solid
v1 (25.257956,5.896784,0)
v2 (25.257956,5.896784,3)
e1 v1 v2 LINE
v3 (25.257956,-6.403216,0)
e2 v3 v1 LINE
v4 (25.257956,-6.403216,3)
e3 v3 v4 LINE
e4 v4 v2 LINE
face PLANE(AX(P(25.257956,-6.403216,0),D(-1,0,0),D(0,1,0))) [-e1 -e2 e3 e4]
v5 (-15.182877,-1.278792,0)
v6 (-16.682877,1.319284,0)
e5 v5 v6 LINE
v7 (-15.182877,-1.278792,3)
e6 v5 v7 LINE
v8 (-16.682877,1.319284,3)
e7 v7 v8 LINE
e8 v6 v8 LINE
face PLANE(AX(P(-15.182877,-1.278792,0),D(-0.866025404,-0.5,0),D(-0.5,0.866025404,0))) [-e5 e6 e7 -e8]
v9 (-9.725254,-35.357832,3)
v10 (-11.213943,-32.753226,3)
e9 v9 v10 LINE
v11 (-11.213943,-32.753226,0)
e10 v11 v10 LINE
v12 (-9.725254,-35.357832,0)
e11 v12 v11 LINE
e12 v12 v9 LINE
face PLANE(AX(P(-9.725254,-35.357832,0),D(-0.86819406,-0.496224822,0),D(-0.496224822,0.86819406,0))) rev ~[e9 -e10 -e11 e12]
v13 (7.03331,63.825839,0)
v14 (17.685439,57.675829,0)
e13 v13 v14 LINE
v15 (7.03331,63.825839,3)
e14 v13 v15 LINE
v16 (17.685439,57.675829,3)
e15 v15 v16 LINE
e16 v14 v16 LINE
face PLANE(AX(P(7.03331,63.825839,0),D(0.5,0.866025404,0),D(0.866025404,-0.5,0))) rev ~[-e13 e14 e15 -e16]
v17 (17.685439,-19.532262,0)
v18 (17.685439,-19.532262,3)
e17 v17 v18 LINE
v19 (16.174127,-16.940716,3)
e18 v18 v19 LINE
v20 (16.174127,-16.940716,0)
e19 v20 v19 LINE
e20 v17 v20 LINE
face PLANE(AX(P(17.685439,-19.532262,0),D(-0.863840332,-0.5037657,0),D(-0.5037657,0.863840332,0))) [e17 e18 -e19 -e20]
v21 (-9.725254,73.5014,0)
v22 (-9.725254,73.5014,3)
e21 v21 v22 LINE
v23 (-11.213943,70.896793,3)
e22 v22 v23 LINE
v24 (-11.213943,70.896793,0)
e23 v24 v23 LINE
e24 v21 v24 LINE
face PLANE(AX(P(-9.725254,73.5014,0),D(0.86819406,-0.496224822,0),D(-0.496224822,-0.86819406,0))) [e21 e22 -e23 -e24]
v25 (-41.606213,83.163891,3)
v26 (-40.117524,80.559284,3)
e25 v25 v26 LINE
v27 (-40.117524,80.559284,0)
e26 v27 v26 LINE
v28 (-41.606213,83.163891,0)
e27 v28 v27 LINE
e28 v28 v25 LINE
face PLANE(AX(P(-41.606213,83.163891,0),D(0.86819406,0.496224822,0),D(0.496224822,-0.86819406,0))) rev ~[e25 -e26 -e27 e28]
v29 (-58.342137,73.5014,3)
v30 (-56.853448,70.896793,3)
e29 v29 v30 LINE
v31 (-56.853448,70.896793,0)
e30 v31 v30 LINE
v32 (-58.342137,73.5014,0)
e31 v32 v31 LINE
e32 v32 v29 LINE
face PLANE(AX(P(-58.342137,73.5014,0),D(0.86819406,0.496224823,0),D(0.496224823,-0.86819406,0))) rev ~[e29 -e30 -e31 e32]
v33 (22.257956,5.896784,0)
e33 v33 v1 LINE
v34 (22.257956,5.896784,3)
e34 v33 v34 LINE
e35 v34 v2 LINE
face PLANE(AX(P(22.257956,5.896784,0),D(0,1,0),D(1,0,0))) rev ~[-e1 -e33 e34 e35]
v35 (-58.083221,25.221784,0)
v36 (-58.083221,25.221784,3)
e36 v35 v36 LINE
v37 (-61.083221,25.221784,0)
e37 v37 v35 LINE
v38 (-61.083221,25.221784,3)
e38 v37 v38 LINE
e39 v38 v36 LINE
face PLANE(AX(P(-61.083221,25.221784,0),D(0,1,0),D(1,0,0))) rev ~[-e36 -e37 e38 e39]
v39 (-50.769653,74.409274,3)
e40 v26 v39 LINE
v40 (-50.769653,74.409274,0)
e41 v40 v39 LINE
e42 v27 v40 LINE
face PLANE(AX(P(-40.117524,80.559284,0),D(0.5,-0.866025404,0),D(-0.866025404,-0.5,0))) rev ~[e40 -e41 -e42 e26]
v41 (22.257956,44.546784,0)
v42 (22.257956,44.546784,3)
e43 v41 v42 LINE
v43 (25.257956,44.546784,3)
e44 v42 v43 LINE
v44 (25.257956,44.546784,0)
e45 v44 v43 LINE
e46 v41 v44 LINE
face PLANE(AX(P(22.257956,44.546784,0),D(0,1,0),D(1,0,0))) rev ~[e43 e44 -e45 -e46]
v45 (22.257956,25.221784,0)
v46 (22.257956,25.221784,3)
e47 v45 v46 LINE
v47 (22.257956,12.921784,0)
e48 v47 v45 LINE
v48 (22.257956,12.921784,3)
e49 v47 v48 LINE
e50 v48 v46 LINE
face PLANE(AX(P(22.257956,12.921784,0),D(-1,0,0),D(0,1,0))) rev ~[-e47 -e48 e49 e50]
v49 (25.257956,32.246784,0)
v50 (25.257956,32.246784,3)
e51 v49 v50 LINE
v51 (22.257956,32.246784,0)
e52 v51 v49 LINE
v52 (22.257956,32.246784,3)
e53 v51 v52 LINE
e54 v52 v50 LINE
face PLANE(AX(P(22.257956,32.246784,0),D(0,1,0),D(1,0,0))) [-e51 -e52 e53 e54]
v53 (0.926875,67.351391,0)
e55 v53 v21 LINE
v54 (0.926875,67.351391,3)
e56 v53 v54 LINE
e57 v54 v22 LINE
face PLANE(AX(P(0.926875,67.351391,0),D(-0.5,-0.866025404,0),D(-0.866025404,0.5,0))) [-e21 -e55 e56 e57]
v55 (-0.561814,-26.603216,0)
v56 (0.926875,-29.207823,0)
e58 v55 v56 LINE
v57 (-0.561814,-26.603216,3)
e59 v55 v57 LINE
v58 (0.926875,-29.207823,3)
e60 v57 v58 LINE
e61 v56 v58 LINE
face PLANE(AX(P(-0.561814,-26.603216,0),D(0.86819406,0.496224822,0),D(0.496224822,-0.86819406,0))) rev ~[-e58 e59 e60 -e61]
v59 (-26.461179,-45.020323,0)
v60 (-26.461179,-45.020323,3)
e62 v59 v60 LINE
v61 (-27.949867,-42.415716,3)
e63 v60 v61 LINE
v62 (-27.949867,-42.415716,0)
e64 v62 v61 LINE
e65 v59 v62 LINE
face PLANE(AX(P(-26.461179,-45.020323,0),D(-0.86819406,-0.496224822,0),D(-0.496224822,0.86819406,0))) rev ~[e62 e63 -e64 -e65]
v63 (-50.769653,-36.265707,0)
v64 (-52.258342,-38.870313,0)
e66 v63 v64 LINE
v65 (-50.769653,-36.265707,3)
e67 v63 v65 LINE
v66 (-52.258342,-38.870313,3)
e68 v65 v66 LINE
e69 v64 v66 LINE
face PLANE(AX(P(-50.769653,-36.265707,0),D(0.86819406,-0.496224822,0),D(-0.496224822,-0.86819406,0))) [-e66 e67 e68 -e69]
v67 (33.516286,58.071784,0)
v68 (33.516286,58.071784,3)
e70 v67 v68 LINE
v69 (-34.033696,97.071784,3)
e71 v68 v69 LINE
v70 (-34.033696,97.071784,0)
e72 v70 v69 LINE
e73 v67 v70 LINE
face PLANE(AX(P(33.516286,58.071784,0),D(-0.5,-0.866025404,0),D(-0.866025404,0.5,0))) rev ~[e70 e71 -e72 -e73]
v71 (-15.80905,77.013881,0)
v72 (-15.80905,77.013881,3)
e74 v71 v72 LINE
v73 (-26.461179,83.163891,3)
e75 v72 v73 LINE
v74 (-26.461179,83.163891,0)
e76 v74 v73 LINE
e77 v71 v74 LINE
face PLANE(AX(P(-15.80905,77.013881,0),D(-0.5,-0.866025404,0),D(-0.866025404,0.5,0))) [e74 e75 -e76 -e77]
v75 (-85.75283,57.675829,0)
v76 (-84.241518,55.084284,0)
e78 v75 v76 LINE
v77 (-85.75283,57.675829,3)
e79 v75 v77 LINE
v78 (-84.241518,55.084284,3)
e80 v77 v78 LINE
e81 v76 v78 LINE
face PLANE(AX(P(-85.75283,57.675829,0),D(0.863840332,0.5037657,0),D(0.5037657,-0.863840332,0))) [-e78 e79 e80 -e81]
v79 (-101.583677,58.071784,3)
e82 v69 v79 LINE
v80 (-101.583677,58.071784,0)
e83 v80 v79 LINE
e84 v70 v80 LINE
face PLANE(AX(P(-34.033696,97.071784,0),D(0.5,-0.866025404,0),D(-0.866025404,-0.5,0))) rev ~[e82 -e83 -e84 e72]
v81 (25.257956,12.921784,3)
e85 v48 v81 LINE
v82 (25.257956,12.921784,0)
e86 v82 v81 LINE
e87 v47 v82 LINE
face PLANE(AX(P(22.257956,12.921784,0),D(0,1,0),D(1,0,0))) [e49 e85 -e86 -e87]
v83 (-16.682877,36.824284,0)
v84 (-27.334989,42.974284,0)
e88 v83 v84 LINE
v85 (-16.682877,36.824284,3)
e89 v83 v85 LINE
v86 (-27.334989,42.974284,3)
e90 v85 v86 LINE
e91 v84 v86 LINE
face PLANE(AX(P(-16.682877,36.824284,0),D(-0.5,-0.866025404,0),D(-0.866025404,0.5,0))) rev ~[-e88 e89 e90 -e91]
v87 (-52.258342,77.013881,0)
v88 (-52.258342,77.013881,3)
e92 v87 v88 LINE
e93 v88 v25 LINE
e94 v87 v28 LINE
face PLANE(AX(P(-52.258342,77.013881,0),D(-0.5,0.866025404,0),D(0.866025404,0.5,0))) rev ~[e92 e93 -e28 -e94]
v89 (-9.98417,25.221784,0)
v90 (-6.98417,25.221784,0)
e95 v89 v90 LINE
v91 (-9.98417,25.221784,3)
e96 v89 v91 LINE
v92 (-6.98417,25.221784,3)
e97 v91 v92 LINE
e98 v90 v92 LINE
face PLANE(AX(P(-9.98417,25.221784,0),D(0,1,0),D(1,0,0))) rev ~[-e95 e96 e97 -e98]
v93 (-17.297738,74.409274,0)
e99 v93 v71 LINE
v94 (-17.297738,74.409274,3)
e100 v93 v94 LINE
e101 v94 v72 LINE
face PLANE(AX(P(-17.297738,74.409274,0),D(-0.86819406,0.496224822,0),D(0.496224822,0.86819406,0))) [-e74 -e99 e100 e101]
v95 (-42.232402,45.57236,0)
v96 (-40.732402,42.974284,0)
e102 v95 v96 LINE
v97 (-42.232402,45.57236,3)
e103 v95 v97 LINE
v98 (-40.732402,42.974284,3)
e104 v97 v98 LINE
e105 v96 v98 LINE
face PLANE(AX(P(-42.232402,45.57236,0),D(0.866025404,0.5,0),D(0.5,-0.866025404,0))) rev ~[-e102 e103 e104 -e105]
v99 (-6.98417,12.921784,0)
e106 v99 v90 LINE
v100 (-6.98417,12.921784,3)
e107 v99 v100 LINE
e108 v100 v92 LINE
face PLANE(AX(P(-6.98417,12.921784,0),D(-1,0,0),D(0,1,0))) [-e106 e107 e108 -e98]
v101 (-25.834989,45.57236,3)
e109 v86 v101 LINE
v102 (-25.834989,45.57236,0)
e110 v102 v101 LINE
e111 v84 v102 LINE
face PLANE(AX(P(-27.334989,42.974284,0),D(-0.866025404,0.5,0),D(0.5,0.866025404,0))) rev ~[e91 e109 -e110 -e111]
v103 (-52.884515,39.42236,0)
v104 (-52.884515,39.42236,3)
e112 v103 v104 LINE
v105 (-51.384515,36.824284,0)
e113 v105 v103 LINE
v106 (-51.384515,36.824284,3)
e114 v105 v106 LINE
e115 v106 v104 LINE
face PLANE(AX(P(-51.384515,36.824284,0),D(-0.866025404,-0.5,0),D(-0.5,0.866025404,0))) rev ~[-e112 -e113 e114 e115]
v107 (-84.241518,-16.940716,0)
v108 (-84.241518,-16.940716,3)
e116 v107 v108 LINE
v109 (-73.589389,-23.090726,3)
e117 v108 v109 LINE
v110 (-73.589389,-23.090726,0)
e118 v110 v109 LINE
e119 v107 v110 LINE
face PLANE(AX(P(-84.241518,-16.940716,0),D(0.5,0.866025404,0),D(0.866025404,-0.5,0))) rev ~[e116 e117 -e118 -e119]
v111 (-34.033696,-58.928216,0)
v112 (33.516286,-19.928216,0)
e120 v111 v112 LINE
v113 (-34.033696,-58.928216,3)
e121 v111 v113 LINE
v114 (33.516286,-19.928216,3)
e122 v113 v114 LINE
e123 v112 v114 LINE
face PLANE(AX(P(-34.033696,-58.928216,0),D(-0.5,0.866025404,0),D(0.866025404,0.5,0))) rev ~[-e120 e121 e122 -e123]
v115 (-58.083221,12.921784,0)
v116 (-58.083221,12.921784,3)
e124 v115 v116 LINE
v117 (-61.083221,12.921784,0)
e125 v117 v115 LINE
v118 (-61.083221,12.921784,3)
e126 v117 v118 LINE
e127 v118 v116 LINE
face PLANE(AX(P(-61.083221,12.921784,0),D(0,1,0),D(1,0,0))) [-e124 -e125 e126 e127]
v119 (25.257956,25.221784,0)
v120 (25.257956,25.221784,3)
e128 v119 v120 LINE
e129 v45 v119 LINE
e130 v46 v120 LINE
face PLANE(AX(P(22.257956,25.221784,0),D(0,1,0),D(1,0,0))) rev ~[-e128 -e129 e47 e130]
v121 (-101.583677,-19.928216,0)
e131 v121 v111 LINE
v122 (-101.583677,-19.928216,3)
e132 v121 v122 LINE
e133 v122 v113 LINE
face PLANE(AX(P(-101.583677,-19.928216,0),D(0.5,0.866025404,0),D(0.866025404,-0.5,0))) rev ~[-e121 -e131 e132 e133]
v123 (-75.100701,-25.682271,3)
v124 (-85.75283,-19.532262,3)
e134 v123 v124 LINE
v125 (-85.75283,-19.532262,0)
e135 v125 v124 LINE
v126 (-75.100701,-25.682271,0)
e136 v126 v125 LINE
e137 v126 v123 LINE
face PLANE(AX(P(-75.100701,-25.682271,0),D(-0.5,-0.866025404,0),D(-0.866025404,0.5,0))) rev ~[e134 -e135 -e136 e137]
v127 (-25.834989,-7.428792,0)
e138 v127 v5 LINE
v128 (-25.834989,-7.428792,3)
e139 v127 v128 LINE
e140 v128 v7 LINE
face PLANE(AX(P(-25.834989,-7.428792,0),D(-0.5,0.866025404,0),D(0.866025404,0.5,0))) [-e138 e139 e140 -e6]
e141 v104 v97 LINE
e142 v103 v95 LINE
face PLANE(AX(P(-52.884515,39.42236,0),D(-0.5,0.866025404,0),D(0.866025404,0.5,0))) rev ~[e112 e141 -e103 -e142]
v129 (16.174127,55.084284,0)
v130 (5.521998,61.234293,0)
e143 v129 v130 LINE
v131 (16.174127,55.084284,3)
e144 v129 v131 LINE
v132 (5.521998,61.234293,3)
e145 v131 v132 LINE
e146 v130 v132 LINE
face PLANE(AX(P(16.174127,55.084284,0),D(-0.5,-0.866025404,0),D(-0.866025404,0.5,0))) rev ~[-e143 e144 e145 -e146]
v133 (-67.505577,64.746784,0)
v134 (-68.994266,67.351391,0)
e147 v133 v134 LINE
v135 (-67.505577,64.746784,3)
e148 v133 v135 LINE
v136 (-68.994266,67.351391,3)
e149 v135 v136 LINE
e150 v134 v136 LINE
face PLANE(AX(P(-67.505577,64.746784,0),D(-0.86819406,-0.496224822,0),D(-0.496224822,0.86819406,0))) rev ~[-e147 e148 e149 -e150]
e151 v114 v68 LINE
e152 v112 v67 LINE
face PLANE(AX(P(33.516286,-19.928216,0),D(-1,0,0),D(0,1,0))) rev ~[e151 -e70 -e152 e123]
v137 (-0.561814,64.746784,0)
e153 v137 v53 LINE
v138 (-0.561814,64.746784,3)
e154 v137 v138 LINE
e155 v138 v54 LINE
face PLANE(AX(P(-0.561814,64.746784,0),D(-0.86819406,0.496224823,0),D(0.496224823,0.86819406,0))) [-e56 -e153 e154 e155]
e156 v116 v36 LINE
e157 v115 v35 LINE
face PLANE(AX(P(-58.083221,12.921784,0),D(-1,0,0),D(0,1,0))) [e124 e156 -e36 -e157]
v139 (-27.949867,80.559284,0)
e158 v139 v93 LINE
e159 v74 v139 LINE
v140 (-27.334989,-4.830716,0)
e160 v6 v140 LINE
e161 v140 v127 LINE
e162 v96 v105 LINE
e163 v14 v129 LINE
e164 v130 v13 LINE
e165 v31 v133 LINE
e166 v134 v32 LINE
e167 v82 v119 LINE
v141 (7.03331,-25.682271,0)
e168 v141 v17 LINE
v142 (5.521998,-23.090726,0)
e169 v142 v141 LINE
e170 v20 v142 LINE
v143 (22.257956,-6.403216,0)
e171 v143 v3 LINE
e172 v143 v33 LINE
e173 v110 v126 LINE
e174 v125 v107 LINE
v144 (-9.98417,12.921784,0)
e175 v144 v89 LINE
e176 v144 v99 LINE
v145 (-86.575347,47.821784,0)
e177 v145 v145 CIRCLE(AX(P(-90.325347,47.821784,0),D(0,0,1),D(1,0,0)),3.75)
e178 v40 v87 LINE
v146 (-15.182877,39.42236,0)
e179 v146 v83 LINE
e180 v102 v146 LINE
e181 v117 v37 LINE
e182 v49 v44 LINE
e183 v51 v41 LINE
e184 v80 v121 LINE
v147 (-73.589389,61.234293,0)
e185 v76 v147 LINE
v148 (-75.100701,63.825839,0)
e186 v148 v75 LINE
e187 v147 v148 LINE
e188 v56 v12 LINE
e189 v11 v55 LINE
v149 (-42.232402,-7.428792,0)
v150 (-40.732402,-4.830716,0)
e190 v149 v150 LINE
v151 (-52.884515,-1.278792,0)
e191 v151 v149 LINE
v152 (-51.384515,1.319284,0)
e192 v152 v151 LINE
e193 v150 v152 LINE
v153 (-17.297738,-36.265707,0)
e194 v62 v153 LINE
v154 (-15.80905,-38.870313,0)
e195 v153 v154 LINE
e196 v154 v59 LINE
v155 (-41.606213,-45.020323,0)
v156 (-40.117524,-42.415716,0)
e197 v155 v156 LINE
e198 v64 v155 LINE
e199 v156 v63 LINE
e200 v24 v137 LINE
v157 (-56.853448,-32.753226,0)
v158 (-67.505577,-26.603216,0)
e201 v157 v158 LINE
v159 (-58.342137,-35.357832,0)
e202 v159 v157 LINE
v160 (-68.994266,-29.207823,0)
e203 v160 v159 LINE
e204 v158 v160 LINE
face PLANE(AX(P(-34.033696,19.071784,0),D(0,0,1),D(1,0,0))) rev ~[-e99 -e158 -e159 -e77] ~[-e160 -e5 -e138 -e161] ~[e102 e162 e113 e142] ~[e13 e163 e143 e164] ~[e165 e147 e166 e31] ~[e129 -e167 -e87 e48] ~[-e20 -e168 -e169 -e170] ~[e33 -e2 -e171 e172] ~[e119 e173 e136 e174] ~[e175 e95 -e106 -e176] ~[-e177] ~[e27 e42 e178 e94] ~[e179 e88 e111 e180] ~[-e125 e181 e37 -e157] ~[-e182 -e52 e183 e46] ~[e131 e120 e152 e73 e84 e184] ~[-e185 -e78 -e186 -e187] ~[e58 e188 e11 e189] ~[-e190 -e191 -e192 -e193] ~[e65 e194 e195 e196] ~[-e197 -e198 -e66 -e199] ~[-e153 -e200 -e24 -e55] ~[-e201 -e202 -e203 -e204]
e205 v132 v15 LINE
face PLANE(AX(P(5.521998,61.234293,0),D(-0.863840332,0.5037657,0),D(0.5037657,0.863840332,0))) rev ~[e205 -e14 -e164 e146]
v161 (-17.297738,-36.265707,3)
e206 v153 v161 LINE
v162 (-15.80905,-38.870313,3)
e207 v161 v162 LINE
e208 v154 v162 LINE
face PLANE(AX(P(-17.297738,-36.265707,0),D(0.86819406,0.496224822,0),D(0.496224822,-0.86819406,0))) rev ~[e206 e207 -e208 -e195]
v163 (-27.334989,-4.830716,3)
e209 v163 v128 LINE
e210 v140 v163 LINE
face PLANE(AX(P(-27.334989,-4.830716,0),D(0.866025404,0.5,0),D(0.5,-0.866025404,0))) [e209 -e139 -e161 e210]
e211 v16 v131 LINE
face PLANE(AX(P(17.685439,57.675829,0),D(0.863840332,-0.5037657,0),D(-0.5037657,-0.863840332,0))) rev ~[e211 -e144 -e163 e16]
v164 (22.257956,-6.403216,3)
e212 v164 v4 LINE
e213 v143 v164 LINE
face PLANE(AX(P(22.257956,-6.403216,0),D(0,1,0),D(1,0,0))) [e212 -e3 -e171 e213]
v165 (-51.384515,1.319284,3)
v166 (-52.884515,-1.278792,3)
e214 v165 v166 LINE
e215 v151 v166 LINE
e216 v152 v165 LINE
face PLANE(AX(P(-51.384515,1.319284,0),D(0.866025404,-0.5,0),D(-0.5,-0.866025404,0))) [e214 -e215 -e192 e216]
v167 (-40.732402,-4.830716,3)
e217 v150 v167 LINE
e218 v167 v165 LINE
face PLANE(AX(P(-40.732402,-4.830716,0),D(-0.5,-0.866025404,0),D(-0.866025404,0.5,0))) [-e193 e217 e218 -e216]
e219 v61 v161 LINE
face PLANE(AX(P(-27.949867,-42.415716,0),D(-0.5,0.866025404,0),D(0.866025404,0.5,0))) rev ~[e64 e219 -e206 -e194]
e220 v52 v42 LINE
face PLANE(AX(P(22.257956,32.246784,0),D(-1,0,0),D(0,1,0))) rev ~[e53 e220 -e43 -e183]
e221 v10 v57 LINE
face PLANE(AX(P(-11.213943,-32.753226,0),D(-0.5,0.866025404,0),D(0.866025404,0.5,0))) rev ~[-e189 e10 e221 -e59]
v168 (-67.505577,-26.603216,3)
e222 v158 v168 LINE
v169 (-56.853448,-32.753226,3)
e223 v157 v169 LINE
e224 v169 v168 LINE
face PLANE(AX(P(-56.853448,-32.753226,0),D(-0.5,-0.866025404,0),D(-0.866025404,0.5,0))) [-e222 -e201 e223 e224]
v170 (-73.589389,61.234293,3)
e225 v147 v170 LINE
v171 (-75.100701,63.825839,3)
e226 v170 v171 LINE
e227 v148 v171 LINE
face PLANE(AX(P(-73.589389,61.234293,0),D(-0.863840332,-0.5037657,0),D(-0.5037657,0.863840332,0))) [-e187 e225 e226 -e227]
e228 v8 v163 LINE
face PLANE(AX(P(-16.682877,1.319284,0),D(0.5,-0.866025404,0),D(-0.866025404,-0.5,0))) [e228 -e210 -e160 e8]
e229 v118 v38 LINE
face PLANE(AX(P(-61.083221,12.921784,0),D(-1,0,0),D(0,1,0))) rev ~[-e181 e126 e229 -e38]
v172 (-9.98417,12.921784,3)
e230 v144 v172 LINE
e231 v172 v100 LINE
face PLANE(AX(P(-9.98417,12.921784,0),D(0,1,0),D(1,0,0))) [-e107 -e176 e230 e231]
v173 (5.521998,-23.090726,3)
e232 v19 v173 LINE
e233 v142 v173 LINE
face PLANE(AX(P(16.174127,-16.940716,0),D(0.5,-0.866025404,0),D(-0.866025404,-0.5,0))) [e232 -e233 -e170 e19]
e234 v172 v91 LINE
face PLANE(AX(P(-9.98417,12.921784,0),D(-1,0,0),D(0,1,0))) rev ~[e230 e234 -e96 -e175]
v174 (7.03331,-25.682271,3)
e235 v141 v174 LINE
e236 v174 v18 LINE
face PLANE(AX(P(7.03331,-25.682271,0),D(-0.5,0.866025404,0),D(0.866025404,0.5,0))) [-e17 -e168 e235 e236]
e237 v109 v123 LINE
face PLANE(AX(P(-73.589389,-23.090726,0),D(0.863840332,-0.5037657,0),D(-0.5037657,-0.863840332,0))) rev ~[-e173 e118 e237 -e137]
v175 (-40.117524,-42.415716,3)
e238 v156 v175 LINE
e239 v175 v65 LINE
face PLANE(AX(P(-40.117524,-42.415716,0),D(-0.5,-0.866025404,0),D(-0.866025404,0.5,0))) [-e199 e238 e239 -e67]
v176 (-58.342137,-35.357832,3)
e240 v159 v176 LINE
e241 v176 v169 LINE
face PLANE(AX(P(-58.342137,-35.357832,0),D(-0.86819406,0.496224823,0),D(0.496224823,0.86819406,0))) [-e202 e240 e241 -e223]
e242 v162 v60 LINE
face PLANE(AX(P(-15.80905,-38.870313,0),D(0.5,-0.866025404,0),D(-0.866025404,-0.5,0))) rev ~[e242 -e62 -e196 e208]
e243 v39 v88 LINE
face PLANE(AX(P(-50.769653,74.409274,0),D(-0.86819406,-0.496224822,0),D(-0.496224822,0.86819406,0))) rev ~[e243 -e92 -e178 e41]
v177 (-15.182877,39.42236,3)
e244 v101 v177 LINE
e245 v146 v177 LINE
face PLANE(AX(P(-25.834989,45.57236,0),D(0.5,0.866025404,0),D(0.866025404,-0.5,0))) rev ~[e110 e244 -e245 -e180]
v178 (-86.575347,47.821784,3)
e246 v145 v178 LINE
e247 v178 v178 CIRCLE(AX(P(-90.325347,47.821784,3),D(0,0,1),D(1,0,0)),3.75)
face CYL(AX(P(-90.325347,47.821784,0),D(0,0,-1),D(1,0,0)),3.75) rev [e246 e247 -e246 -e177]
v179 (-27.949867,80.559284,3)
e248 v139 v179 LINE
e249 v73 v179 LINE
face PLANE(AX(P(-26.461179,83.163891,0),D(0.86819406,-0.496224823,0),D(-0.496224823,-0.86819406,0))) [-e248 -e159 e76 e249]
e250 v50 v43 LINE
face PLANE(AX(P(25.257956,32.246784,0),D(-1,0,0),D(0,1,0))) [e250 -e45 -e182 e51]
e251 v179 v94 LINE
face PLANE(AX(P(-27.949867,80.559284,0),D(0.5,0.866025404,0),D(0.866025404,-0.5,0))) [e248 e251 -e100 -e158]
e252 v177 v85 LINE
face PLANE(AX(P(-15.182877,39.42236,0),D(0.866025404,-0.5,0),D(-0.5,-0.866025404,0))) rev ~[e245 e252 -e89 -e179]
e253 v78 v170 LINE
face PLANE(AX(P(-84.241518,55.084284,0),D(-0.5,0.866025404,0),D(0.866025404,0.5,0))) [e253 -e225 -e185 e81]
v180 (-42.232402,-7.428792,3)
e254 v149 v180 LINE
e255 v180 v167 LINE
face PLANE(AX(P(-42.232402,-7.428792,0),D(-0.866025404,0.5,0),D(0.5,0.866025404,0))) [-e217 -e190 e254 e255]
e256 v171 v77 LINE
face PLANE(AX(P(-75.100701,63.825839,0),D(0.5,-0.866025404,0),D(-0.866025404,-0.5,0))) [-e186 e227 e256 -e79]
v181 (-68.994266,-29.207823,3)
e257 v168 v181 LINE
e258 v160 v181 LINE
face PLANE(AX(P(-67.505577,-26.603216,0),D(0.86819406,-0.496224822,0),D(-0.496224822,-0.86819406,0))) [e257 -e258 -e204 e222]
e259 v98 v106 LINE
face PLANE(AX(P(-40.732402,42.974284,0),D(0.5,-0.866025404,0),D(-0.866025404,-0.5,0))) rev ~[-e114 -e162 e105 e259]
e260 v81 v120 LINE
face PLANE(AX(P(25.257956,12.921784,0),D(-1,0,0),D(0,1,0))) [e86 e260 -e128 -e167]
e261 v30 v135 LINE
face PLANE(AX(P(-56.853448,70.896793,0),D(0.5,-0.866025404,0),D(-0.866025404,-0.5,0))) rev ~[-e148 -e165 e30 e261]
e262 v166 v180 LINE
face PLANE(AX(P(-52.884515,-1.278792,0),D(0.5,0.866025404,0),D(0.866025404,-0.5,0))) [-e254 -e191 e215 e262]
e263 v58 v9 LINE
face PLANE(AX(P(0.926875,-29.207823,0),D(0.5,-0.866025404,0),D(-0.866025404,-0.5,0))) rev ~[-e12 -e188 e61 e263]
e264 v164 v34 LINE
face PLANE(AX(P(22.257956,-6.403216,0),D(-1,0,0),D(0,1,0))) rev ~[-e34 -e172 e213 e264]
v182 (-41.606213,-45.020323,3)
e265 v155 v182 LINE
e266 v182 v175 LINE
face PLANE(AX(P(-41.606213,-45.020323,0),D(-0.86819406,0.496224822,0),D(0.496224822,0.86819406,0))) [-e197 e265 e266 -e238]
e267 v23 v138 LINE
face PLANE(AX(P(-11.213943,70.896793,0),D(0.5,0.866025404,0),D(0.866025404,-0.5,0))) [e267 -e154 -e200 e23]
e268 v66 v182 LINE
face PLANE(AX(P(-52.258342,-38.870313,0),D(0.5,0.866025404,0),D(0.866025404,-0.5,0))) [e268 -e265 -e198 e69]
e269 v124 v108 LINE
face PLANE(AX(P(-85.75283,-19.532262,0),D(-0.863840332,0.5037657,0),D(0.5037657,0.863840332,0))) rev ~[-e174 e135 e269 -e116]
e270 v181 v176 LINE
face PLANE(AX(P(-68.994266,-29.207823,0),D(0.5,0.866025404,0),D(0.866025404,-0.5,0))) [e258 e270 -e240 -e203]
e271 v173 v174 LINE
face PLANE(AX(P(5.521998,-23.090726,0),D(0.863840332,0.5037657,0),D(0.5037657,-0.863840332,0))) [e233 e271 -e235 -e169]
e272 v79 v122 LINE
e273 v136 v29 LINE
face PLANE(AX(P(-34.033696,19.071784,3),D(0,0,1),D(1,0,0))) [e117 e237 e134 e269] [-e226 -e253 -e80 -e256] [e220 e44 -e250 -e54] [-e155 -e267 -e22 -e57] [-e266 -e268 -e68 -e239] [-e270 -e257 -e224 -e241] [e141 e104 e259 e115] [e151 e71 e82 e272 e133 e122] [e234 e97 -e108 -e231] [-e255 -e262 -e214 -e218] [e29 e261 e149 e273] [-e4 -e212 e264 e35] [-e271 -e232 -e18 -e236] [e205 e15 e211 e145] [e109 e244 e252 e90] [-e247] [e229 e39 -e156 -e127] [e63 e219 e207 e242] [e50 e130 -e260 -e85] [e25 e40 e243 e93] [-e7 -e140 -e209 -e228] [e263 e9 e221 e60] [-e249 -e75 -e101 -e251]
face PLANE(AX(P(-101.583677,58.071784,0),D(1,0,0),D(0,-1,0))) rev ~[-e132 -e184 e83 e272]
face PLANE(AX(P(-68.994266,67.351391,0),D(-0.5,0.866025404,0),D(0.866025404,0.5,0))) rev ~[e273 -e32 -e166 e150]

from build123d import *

# Parameters (mm, degrees)
CROQUIS1_R              = 3.75
CROQUIS1_W              = 3
CROQUIS1_H              = 12.3
SALIENTE_EXTRUIR1_DEPTH = 3


with BuildPart() as part:
    # Croquis1 → Saliente-Extruir1 (new body)
    with BuildSketch(Plane.XY):
        Polygon((-34.033695548, 97.071783877), (-101.583677043, 58.071783877), (-101.583677043, -19.928216123), (-34.033695548, -58.928216123), (33.516285947, -19.928216123), (33.516285947, 58.071783877), align=None)
        with Locations((-90.325346794, 47.821783877)):
            Circle(CROQUIS1_R, mode=Mode.SUBTRACT)
        Polygon((-51.384514513, 1.319283877), (-52.884514513, -1.278792335), (-42.232402047, -7.428792335), (-40.732402047, -4.830716123), align=None, mode=Mode.SUBTRACT)
        Polygon((-26.461178531, 83.163890705), (-27.949867087, 80.559283877), (-17.297738084, 74.409274329), (-15.809049529, 77.013881158), align=None, mode=Mode.SUBTRACT)
        Polygon((7.033309637, 63.825838945), (17.685438639, 57.675829398), (16.174127236, 55.084283877), (5.521998234, 61.234293424), align=None, mode=Mode.SUBTRACT)
        Polygon((5.521998234, -23.090725671), (7.033309637, -25.682271192), (17.685438639, -19.532261645), (16.174127236, -16.940716123), align=None, mode=Mode.SUBTRACT)
        Polygon((-9.725254139, 73.501400252), (-11.213942694, 70.896793424), (-0.561813692, 64.746783877), (0.926874864, 67.351390705), align=None, mode=Mode.SUBTRACT)
        Polygon((0.926874864, -29.207822952), (-9.725254139, -35.357832499), (-11.213942694, -32.753225671), (-0.561813692, -26.603216123), align=None, mode=Mode.SUBTRACT)
        Polygon((-15.809049529, -38.870313405), (-26.461178531, -45.020322952), (-27.949867087, -42.415716123), (-17.297738084, -36.265706576), align=None, mode=Mode.SUBTRACT)
        Polygon((-50.769653012, -36.265706576), (-52.258341568, -38.870313405), (-41.606212565, -45.020322952), (-40.11752401, -42.415716123), align=None, mode=Mode.SUBTRACT)
        Polygon((-67.505577405, -26.603216123), (-68.99426596, -29.207822952), (-58.342136958, -35.357832499), (-56.853448402, -32.753225671), align=None, mode=Mode.SUBTRACT)
        Polygon((-84.241518333, -16.940716123), (-73.58938933, -23.090725671), (-75.100700733, -25.682271192), (-85.752829736, -19.532261645), align=None, mode=Mode.SUBTRACT)
        Polygon((-73.58938933, 61.234293424), (-75.100700733, 63.825838945), (-85.752829736, 57.675829398), (-84.241518333, 55.084283877), align=None, mode=Mode.SUBTRACT)
        Polygon((-68.99426596, 67.351390705), (-58.342136958, 73.501400252), (-56.853448402, 70.896793424), (-67.505577405, 64.746783877), align=None, mode=Mode.SUBTRACT)
        Polygon((-52.258341568, 77.013881158), (-41.606212565, 83.163890705), (-40.11752401, 80.559283877), (-50.769653012, 74.409274329), align=None, mode=Mode.SUBTRACT)
        with Locations((23.757955698, 38.396783877)):
            Rectangle(CROQUIS1_W, CROQUIS1_H, mode=Mode.SUBTRACT)
        with Locations((23.757955698, 19.071783877)):
            Rectangle(CROQUIS1_W, CROQUIS1_H, mode=Mode.SUBTRACT)
        with Locations((23.757955698, -0.253216123)):
            Rectangle(CROQUIS1_W, CROQUIS1_H, mode=Mode.SUBTRACT)
        Polygon((-25.83498905, 45.572360088), (-15.182876583, 39.422360088), (-16.682876583, 36.824283877), (-27.33498905, 42.974283877), align=None, mode=Mode.SUBTRACT)
        Polygon((-52.884514513, 39.422360088), (-42.232402047, 45.572360088), (-40.732402047, 42.974283877), (-51.384514513, 36.824283877), align=None, mode=Mode.SUBTRACT)
        Polygon((-27.33498905, -4.830716123), (-25.83498905, -7.428792335), (-15.182876583, -1.278792335), (-16.682876583, 1.319283877), align=None, mode=Mode.SUBTRACT)
        with Locations((-8.484170085, 19.071783877)):
            Rectangle(CROQUIS1_W, CROQUIS1_H, mode=Mode.SUBTRACT)
        with Locations((-59.583221011, 19.071783877)):
            Rectangle(CROQUIS1_W, CROQUIS1_H, mode=Mode.SUBTRACT)
    extrude(amount=SALIENTE_EXTRUIR1_DEPTH)


solid = part.part
